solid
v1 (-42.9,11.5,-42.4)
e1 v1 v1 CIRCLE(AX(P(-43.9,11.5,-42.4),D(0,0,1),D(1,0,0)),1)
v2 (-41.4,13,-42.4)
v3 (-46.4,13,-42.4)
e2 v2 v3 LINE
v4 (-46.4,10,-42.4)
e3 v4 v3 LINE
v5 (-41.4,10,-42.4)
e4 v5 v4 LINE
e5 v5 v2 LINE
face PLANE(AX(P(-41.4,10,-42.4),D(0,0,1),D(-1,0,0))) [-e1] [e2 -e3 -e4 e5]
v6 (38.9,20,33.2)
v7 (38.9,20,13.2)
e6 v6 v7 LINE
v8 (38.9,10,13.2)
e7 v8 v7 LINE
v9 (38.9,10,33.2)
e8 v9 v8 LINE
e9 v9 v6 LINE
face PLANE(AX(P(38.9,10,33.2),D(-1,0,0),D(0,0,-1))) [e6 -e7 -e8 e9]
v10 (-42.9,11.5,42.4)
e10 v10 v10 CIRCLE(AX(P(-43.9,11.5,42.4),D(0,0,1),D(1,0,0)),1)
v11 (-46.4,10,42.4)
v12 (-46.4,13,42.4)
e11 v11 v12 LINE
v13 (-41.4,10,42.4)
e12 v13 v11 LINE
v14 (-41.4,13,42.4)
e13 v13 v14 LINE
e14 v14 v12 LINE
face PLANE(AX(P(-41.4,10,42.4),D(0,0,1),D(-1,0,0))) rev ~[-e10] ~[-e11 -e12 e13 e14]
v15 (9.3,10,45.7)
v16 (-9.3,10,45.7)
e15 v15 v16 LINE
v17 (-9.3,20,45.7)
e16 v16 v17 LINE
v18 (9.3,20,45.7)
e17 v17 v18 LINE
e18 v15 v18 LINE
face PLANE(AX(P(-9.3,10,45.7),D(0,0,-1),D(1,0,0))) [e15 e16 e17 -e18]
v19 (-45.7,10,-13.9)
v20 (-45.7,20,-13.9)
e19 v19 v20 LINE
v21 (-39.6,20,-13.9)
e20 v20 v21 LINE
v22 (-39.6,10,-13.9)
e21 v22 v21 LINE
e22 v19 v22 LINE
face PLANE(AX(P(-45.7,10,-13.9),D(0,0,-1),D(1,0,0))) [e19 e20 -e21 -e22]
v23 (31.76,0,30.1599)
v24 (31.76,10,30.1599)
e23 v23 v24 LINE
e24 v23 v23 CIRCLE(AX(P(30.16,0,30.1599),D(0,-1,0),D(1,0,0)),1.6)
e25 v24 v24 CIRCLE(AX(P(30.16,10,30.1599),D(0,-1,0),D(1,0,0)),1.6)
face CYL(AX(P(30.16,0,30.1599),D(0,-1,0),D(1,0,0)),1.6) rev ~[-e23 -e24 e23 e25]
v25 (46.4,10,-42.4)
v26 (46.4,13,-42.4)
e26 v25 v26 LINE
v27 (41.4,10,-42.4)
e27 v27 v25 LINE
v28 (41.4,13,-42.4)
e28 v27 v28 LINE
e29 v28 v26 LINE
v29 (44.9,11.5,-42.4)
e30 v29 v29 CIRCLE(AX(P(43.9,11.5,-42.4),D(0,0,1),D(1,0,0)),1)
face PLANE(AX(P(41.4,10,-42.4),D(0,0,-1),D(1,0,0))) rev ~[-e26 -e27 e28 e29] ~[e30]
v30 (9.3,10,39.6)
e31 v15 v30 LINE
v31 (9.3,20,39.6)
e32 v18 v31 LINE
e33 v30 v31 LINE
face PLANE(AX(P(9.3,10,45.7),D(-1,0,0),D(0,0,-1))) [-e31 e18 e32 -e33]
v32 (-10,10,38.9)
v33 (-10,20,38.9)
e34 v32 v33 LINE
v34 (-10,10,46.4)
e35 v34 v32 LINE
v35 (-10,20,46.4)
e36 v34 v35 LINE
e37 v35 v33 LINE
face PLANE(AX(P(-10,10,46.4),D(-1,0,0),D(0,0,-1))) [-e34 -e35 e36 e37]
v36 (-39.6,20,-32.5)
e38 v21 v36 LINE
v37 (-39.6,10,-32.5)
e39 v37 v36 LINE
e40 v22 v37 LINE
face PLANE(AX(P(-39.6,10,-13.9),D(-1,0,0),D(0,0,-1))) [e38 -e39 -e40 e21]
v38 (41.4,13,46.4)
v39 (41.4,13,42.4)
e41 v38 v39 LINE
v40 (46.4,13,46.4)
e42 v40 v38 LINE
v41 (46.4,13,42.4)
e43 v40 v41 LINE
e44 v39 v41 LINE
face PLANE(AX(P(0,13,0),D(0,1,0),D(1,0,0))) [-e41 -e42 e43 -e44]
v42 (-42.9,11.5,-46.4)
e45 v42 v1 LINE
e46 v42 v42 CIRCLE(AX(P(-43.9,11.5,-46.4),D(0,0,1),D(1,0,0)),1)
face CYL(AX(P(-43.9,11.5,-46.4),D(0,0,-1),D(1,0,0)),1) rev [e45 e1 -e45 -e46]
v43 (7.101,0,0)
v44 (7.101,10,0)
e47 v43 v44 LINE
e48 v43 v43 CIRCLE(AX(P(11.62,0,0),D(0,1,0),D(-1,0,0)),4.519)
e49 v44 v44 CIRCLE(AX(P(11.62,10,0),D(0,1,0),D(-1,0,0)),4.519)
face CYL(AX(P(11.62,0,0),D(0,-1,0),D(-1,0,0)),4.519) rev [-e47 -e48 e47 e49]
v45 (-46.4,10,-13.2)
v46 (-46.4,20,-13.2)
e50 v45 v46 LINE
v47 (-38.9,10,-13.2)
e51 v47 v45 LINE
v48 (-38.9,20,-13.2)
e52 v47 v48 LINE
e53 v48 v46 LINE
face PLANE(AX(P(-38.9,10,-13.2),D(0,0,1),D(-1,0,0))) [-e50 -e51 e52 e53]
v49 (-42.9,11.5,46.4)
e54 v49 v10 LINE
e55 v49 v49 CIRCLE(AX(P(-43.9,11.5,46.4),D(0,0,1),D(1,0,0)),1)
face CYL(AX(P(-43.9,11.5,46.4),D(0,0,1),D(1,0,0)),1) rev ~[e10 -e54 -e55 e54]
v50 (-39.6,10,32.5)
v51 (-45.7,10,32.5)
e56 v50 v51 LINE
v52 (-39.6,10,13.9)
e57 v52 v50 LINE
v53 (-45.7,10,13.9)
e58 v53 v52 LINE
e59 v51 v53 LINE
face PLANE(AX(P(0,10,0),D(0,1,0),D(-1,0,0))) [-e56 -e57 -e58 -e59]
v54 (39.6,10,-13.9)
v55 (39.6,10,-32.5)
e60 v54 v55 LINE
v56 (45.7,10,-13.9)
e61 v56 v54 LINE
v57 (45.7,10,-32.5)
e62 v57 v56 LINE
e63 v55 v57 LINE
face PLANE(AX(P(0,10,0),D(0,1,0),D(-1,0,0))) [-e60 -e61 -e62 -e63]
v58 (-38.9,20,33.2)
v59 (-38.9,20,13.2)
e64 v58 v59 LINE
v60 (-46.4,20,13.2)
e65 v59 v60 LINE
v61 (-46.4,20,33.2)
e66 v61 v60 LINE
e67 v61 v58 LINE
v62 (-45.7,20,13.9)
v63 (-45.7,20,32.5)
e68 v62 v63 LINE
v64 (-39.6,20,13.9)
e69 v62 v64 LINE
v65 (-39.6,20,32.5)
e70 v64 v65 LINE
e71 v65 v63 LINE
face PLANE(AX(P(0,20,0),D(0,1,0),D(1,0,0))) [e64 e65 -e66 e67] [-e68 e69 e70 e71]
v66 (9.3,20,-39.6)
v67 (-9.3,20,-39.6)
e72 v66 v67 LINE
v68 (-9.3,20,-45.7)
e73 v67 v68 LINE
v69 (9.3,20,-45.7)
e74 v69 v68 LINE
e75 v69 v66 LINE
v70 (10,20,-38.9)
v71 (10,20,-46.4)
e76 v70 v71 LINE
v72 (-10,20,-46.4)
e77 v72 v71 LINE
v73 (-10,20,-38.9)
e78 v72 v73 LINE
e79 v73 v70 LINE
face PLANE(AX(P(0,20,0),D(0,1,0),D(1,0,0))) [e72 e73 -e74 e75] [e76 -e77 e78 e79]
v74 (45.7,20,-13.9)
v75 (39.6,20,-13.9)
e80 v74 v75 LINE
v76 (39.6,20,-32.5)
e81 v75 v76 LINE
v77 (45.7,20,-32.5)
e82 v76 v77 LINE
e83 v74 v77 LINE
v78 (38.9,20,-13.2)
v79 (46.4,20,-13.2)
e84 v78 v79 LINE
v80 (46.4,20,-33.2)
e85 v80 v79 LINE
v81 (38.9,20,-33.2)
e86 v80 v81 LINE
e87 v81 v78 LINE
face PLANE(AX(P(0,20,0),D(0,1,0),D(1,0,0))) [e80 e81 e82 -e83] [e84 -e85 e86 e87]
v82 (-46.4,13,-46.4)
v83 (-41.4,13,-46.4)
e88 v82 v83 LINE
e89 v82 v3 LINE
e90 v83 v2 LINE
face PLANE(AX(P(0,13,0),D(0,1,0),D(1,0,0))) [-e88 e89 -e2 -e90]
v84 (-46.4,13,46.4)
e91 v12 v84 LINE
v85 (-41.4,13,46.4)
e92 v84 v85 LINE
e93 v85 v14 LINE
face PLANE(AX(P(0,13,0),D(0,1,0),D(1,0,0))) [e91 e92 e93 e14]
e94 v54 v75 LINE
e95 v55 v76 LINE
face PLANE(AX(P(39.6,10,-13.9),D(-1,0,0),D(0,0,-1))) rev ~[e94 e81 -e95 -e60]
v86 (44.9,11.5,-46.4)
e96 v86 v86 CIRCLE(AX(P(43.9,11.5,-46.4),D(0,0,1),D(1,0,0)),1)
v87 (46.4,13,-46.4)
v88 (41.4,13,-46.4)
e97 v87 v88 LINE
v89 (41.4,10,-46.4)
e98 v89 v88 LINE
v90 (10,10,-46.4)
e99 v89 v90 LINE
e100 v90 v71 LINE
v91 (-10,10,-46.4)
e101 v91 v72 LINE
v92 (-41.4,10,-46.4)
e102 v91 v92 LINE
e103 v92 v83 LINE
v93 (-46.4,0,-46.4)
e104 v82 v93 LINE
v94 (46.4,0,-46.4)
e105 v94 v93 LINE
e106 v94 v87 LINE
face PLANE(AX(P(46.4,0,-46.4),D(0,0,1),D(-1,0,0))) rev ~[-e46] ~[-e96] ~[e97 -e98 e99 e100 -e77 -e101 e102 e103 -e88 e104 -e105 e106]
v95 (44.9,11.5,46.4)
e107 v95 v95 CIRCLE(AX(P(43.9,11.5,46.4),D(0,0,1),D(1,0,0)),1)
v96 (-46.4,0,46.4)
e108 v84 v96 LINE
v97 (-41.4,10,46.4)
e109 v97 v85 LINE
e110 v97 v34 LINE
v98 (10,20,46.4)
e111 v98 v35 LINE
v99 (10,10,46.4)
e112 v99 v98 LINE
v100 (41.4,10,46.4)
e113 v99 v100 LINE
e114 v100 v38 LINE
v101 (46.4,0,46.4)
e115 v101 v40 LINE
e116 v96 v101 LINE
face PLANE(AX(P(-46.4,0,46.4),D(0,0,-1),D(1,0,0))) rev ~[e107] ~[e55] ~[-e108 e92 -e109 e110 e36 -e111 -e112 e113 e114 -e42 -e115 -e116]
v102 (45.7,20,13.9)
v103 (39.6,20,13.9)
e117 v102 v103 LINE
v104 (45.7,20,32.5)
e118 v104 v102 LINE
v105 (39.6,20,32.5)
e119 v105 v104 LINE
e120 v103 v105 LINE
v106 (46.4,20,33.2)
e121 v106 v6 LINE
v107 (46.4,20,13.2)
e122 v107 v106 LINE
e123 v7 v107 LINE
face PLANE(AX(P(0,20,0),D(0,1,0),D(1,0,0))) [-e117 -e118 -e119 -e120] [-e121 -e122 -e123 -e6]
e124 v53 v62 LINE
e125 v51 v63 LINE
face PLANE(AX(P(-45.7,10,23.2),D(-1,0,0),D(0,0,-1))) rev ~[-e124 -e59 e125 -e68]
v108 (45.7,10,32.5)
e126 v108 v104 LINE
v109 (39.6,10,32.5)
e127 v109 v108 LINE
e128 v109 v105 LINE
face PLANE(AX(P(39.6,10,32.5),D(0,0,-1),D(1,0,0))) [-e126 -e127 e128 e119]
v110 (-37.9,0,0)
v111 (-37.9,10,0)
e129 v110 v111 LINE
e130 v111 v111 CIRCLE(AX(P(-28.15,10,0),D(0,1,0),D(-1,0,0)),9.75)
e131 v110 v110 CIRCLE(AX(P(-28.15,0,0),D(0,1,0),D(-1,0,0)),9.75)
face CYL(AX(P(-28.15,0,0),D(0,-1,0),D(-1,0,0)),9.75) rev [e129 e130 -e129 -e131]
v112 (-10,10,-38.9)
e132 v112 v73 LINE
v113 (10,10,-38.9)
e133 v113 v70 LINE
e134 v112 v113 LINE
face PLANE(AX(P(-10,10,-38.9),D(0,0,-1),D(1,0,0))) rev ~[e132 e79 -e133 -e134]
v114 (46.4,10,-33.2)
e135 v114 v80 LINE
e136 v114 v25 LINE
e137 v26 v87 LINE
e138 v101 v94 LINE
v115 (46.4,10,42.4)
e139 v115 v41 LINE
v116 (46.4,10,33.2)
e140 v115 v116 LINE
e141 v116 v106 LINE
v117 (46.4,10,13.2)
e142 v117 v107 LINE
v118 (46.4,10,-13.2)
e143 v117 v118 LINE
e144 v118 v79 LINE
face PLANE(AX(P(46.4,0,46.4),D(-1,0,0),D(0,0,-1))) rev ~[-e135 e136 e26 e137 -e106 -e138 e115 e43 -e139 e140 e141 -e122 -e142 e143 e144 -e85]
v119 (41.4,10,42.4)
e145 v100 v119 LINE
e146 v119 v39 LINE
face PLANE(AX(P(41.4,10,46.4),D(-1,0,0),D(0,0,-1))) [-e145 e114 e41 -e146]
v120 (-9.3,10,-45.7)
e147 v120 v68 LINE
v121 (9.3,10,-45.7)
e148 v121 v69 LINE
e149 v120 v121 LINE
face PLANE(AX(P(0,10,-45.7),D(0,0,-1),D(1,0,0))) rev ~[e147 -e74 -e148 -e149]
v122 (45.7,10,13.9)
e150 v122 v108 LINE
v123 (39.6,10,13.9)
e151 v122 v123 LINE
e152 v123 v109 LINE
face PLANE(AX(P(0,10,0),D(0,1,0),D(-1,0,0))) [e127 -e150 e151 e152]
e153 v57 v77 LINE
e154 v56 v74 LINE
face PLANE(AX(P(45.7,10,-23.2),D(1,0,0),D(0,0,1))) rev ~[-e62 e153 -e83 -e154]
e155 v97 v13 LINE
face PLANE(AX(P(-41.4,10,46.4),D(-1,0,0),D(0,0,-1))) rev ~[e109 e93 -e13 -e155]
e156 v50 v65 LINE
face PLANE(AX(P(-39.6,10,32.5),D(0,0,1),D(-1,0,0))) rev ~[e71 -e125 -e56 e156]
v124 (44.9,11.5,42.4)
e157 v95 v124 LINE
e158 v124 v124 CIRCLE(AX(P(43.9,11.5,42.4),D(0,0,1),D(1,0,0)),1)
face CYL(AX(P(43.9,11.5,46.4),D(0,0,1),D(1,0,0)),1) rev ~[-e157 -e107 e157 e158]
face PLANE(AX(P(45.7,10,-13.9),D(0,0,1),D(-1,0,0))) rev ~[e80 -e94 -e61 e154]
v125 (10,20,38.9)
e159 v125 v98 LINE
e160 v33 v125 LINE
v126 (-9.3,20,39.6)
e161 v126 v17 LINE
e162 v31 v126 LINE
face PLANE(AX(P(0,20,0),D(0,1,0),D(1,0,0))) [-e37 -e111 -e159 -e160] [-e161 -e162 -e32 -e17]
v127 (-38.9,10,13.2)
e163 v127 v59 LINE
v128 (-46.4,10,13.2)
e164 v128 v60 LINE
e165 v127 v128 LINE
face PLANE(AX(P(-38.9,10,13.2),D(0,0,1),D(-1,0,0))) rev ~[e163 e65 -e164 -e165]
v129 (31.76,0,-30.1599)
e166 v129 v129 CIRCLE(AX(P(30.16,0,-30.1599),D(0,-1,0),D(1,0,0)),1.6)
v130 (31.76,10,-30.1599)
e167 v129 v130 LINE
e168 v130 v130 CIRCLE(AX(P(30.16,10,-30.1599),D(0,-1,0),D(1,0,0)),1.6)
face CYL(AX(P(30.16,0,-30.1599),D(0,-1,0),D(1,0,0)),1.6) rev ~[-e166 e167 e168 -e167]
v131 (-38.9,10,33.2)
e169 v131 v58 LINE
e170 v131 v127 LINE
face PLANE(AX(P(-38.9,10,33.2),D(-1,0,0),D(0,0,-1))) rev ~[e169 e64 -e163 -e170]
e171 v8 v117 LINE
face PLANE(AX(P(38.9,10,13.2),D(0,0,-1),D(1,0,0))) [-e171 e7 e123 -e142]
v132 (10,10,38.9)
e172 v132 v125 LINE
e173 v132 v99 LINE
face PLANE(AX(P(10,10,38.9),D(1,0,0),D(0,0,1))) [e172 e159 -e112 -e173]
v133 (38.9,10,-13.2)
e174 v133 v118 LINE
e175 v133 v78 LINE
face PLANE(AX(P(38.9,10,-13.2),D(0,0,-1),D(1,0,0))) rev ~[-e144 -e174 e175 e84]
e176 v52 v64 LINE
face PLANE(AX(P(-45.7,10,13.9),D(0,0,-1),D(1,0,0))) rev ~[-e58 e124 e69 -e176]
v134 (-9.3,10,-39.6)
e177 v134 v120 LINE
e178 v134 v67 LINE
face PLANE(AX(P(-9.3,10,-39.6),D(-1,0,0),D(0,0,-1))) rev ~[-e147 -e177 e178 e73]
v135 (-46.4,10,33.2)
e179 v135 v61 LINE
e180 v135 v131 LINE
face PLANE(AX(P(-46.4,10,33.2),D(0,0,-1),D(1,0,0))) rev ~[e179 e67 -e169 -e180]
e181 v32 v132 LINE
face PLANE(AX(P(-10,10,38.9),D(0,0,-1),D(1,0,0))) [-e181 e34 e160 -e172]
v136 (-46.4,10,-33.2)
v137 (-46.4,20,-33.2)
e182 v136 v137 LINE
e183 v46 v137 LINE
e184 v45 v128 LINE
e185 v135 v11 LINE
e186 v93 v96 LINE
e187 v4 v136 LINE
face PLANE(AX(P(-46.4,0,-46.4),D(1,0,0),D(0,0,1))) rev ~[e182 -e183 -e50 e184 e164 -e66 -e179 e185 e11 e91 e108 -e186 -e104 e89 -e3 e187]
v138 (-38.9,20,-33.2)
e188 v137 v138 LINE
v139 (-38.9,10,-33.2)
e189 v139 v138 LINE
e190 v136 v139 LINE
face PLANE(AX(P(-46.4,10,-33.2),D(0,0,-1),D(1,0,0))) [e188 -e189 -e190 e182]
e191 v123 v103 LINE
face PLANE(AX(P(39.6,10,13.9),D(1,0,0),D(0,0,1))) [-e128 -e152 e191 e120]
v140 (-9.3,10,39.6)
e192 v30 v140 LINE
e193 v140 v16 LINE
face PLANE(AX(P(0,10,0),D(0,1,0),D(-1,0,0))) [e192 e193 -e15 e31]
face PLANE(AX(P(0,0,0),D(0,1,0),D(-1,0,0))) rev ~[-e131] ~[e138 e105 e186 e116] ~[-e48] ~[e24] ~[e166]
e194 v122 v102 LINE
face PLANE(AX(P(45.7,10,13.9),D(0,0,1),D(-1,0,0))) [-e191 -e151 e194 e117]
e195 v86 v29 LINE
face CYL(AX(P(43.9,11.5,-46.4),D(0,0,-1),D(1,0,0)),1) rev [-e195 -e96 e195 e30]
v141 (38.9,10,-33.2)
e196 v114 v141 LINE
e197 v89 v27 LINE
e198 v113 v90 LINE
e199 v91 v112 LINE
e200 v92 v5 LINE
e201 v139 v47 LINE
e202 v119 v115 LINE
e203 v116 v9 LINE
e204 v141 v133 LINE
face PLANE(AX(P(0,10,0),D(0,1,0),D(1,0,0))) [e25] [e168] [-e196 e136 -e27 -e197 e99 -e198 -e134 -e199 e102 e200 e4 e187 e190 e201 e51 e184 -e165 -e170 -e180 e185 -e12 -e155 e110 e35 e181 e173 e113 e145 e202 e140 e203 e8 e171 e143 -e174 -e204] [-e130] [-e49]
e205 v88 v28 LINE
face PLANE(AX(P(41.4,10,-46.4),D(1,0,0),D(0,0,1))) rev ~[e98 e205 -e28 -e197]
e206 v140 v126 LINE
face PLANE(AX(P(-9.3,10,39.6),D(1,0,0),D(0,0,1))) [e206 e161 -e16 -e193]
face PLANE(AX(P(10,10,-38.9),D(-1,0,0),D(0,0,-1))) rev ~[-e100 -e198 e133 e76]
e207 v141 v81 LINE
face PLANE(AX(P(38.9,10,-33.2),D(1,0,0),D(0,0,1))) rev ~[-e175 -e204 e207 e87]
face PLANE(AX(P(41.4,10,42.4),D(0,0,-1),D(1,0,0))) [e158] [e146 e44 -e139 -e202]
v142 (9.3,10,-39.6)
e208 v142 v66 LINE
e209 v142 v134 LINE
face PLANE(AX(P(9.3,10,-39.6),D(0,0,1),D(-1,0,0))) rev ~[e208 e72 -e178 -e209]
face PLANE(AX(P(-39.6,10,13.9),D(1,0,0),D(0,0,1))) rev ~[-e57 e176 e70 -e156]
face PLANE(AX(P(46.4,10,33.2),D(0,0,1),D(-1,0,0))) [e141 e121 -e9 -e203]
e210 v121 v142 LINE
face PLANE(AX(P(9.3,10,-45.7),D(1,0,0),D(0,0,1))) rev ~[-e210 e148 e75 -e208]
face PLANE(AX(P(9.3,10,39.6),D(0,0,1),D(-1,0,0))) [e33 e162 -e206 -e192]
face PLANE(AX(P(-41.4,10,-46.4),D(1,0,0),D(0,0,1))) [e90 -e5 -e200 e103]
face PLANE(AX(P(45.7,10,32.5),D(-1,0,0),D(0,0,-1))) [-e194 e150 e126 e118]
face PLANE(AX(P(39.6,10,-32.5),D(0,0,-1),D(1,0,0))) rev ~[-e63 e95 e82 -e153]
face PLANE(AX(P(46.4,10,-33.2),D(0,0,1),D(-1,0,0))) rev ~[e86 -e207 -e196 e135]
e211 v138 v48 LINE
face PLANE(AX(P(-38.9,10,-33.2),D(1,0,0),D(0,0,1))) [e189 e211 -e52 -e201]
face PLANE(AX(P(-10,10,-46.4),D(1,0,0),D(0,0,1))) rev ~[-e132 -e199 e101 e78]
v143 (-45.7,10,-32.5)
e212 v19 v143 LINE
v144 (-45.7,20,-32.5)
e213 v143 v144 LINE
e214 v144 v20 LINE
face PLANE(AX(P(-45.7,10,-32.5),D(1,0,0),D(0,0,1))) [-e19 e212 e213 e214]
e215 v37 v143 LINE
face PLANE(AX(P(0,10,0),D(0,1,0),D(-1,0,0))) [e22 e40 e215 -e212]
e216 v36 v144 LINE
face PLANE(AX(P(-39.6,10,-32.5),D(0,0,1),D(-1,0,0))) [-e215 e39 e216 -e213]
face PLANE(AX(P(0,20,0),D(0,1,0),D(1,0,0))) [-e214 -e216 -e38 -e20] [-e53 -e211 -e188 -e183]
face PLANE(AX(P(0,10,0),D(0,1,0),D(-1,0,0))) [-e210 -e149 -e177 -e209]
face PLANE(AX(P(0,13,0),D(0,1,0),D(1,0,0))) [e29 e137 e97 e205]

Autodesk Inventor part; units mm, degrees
ref_plane "YZ Plane" through (0, 0, 0) normal (1, 0, 0) x (0, 1, 0)
ref_plane "XZ Plane" through (0, 0, 0) normal (0, 1, 0) x (-1, 0, 0)
ref_plane "XY Plane" through (0, 0, 0) normal (0, 0, 1) x (1, 0, 0)
sketch "Sketch1" plane through (0, 0, 0) normal (0, 1, 0) x (-1, 0, 0)
  line L0 (-46.4, 46.4) -> (-46.4, -46.4)
  line L1 (-46.4, -46.4) -> (46.4, -46.4)
  line L2 (46.4, -46.4) -> (46.4, 46.4)
  line L3 (46.4, 46.4) -> (-46.4, 46.4)
  line L4 (-46.4, 46.4) -> (46.4, -46.4) construction
  line L5 (-46.4, -46.4) -> (46.4, 46.4) construction
  circle A0 centre (28.15, 0) radius 9.75
  line L6 (-11.62, 56.3044) -> (-11.62, -68.4085) construction
  line L7 (13.88, 18.1678) -> (13.88, -16.702) construction
  line L8 (16.845, 0) -> (-37.12, 0) construction
  line L9 (-37.12, 0) -> (-37.12, -16.702) construction
  line L10 (-37.12, -16.702) -> (-37.12, 16.702) construction
  line L11 (-37.12, 16.702) -> (13.88, 16.702) construction
  line L12 (-37.12, -16.702) -> (13.88, -16.702) construction
  line L13 (13.88, 0) -> (6.92, 0) construction
  circle A1 centre (6.92, 0) radius 4.519 construction
  circle A2 centre (6.92, 0) radius 4.519
  circle A3 centre (-30.16, 0) radius 4.519
  circle A4 centre (-11.62, 0) radius 4.519
  point P0 (0, 0)
  dimension "d0" = 92.8
  dimension "d1" = 92.8
  dimension "d2" = 19.5
  dimension "d3" = 28.15
  dimension "d4" = 11.62
  dimension "d8" = 16.702
  dimension "d9" = 33.404
  dimension "d10" = 6.96
  dimension "d11" = 9.038
  dimension "d46" = 9.038
  dimension "d47" = 6.96
  dimension "d50" = 9.038
extrude "Extrusion1" add sketch "Sketch1" along normal blind 10 contours L3 L2 L1 L0 | A3 | A4
sketch "Sketch2" plane through (0, 10, 0) normal (0, 1, 0) x (1, 0, 0)
  line L0 (-46.4, 46.4) -> (-46.4, -46.4) projected
  line L1 (46.4, -46.4) -> (46.4, 46.4) projected
  line L2 (-46.4, -46.4) -> (46.4, 46.4) construction
  line L3 (-46.4, 46.4) -> (46.4, -46.4) construction
  line L4 (-46.4, -44.4) -> (46.4, -44.4) construction
  line L5 (-46.4, 44.4) -> (46.4, 44.4) construction
  line L6 (46.4, 46.4) -> (-46.4, 46.4) construction
  line L7 (-43.9, 46.4) -> (-43.9, -46.4) construction
  line L8 (-46.4, -46.4) -> (46.4, -46.4) construction
  line L9 (43.9, -46.4) -> (43.9, 46.4) construction
  line L10 (-41.4, -42.4) -> (-46.4, -42.4)
  line L11 (-46.4, -42.4) -> (-46.4, -46.4)
  line L12 (-46.4, -46.4) -> (-41.4, -46.4)
  line L13 (-41.4, -46.4) -> (-41.4, -42.4)
  line L14 (-41.4, -42.4) -> (-46.4, -46.4) construction
  line L15 (-46.4, -42.4) -> (-41.4, -46.4) construction
  line L16 (-41.4, 42.4) -> (-46.4, 42.4)
  line L17 (-46.4, 42.4) -> (-46.4, 46.4)
  line L18 (-46.4, 46.4) -> (-41.4, 46.4)
  line L19 (-41.4, 46.4) -> (-41.4, 42.4)
  line L20 (-41.4, 42.4) -> (-46.4, 46.4) construction
  line L21 (-46.4, 42.4) -> (-41.4, 46.4) construction
  line L22 (41.4, 42.4) -> (46.4, 42.4)
  line L23 (46.4, 42.4) -> (46.4, 46.4)
  line L24 (46.4, 46.4) -> (41.4, 46.4)
  line L25 (41.4, 46.4) -> (41.4, 42.4)
  line L26 (41.4, 42.4) -> (46.4, 46.4) construction
  line L27 (46.4, 42.4) -> (41.4, 46.4) construction
  line L28 (41.4, -42.4) -> (46.4, -42.4)
  line L29 (46.4, -42.4) -> (46.4, -46.4)
  line L30 (46.4, -46.4) -> (41.4, -46.4)
  line L31 (41.4, -46.4) -> (41.4, -42.4)
  line L32 (41.4, -42.4) -> (46.4, -46.4) construction
  line L33 (46.4, -42.4) -> (41.4, -46.4) construction
  point P0 (0, 0)
  point P1 (-43.9, -44.4)
  point P2 (-43.9, 44.4)
  point P3 (43.9, 44.4)
  point P4 (43.9, -44.4)
  dimension "d14" = 2.5
  dimension "d15" = 2.5
  dimension "d16" = 2
  dimension "d17" = 2
extrude "Extrusion2" add sketch "Sketch2" along normal blind 3
sketch "Sketch3" plane through (-46.4, 0, 46.4) normal (0, 0, 1) x (1, 0, 0)
  line L0 (0, 10) -> (5, 10) construction
  line L1 (0, 10) -> (92.9772, 10) construction
  line L2 (0, 10) -> (0, 13) construction
  line L3 (5, 10) -> (0, 13) construction
  line L4 (0, 13) -> (5, 13) construction
  line L5 (5, 13) -> (0, 10) construction
  line L6 (92.8, 0) -> (92.8, 13) construction
  line L7 (87.8, 13) -> (92.8, 13) construction
  line L8 (92.8, 10) -> (87.8, 13) construction
  line L9 (87.8, 13) -> (87.8, 10) construction
  line L10 (87.8, 10) -> (92.8, 13) construction
  circle A0 centre (90.3, 11.5) radius 1 construction
  circle A1 centre (90.3, 11.5) radius 1
  circle A2 centre (2.5, 11.5) radius 1
  point P0 (46.4, 0)
  dimension "d20" = 2
  dimension "d21" = 2
sketch "Sketch4" plane through (0, 10, 0) normal (0, 1, 0) x (1, 0, 0)
  line L0 (0, -35.0564) -> (0, -55.3914) construction
  line L1 (-41.4, -46.4) -> (41.4, -46.4) projected
  line L2 (0, -46.4) -> (-10, -46.4)
  line L3 (-10, -46.4) -> (-10, -38.9)
  line L4 (-10, -38.9) -> (10, -38.9)
  line L5 (10, -38.9) -> (10, -46.4)
  line L6 (0, -46.4) -> (10, -46.4)
  line L7 (-23.157, 0) -> (-56.7416, 0) construction
  line L8 (-56.7416, 0) -> (-56.7416, -46.4) construction
  line L9 (-56.7416, -46.4) -> (-46.4, -46.4) construction
  line L10 (-46.4, -46.4) -> (-56.7416, -23.2) construction
  line L11 (-31.4038, -23.2) -> (-56.7416, -23.2) construction
  line L12 (-46.4, 42.4) -> (-46.4, -42.4) projected
  line L13 (-46.4, -23.2) -> (-46.4, -33.2)
  line L14 (-46.4, -33.2) -> (-38.9, -33.2)
  line L15 (-38.9, -33.2) -> (-38.9, -13.2)
  line L16 (-38.9, -13.2) -> (-46.4, -13.2)
  line L17 (-46.4, -13.2) -> (-46.4, -23.2)
  line L18 (-50.628, 0) -> (47.2568, 0) construction
  line L19 (0, -71.9527) -> (0, 59.9713) construction
  line L20 (46.4, -23.2) -> (46.4, -33.2)
  line L21 (46.4, -33.2) -> (38.9, -33.2)
  line L22 (38.9, -33.2) -> (38.9, -13.2)
  line L23 (38.9, -13.2) -> (46.4, -13.2)
  line L24 (46.4, -13.2) -> (46.4, -23.2)
  line L25 (0, 46.4) -> (-10, 46.4)
  line L26 (-10, 46.4) -> (-10, 38.9)
  line L27 (-10, 38.9) -> (10, 38.9)
  line L28 (10, 38.9) -> (10, 46.4)
  line L29 (0, 46.4) -> (10, 46.4)
  line L30 (-46.4, 23.2) -> (-46.4, 33.2)
  line L31 (-46.4, 33.2) -> (-38.9, 33.2)
  line L32 (-38.9, 33.2) -> (-38.9, 13.2)
  line L33 (-38.9, 13.2) -> (-46.4, 13.2)
  line L34 (-46.4, 13.2) -> (-46.4, 23.2)
  line L35 (46.4, 33.2) -> (38.9, 33.2)
  line L36 (38.9, 33.2) -> (38.9, 13.2)
  line L37 (38.9, 13.2) -> (46.4, 13.2)
  line L38 (46.4, 13.2) -> (46.4, 23.2)
  line L39 (46.4, 23.2) -> (46.4, 33.2)
  line L40 (9.3, -39.6) -> (-9.3, -39.6) construction
  line L41 (-9.3, -39.6) -> (-9.3, -45.7) construction
  line L42 (-9.3, -45.7) -> (0, -45.7) construction
  line L43 (0, -45.7) -> (9.3, -45.7) construction
  line L44 (9.3, -45.7) -> (9.3, -39.6) construction
  line L45 (-9.3, -39.6) -> (-9.3, -45.7)
  line L46 (-9.3, -45.7) -> (0, -45.7)
  line L47 (0, -45.7) -> (9.3, -45.7)
  line L48 (9.3, -45.7) -> (9.3, -39.6)
  line L49 (9.3, -39.6) -> (-9.3, -39.6)
  line L50 (-39.6, -13.9) -> (-39.6, -32.5)
  line L51 (-39.6, -32.5) -> (-45.7, -32.5)
  line L52 (-45.7, -32.5) -> (-45.7, -23.2)
  line L53 (-45.7, -23.2) -> (-45.7, -13.9)
  line L54 (-45.7, -13.9) -> (-39.6, -13.9)
  line L55 (-45.7, 13.9) -> (-39.6, 13.9)
  line L56 (-39.6, 13.9) -> (-39.6, 32.5)
  line L57 (-39.6, 32.5) -> (-45.7, 32.5)
  line L58 (-45.7, 32.5) -> (-45.7, 23.2)
  line L59 (-45.7, 23.2) -> (-45.7, 13.9)
  line L60 (9.3, 39.6) -> (-9.3, 39.6)
  line L61 (-9.3, 39.6) -> (-9.3, 45.7)
  line L62 (-9.3, 45.7) -> (0, 45.7)
  line L63 (0, 45.7) -> (9.3, 45.7)
  line L64 (9.3, 45.7) -> (9.3, 39.6)
  line L65 (39.6, 13.9) -> (39.6, 32.5)
  line L66 (39.6, 32.5) -> (45.7, 32.5)
  line L67 (45.7, 32.5) -> (45.7, 23.2)
  line L68 (45.7, 23.2) -> (45.7, 13.9)
  line L69 (45.7, 13.9) -> (39.6, 13.9)
  line L70 (39.6, -13.9) -> (39.6, -32.5)
  line L71 (39.6, -32.5) -> (45.7, -32.5)
  line L72 (45.7, -32.5) -> (45.7, -23.2)
  line L73 (45.7, -23.2) -> (45.7, -13.9)
  line L74 (45.7, -13.9) -> (39.6, -13.9)
  point P0 (0, 0)
  dimension "d22" = 10
  dimension "d23" = 7.5
  dimension "d24" = 20
  dimension "d25" = 10
  dimension "d26" = 7.5
  dimension "d27" = 20
  dimension "d28" = 0.7
  dimension "d29" = 0.7
  dimension "d30" = 0.7
  dimension "d31" = 0.7
  dimension "d32" = 0.7
  dimension "d33" = 0.7
  dimension "d34" = 0.7
extrude "Extrusion3" add sketch "Sketch4" along normal blind 10
extrude "Extrusion5" cut sketch "Sketch3" against normal blind 4
ref_plane "Work Plane1" through (46.4, 0, 0) normal (0, 0, -1) x (-1, 0, 0)
mirror "Mirror1" about plane through (46.4, 0, 0) normal (0, 0, -1) of "Extrusion5"
sketch "Sketch6" plane through (0, 10, 0) normal (0, 1, 0) x (1, 0, 0)
  circle A0 centre (-28.15, 0) radius 9.75 projected
  circle A1 centre (-6.92, 0) radius 4.519 projected
  line L0 (10, 46.4) -> (10, 38.9) projected
  line L1 (10, 38.9) -> (-10, 38.9) projected
  line L2 (-10, 38.9) -> (-10, 46.4) projected
  line L3 (-10, 46.4) -> (-41.4, 46.4) projected
  line L4 (-41.4, 46.4) -> (-41.4, 42.4) projected
  line L5 (-41.4, 42.4) -> (-46.4, 42.4) projected
  line L6 (-46.4, 42.4) -> (-46.4, 33.2) projected
  line L7 (-46.4, 33.2) -> (-38.9, 33.2) projected
  line L8 (-38.9, 33.2) -> (-38.9, 13.2) projected
  line L9 (-38.9, 13.2) -> (-46.4, 13.2) projected
  line L10 (-46.4, 13.2) -> (-46.4, -13.2) projected
  line L11 (-46.4, -13.2) -> (-38.9, -13.2) projected
  line L12 (-38.9, -13.2) -> (-38.9, -33.2) projected
  line L13 (-38.9, -33.2) -> (-46.4, -33.2) projected
  line L14 (-46.4, -33.2) -> (-46.4, -42.4) projected
  line L15 (-46.4, -42.4) -> (-41.4, -42.4) projected
  line L16 (-41.4, -42.4) -> (-41.4, -46.4) projected
  line L17 (-41.4, -46.4) -> (-10, -46.4) projected
  line L18 (-10, -46.4) -> (-10, -38.9) projected
  line L19 (-10, -38.9) -> (10, -38.9) projected
  line L20 (10, -38.9) -> (10, -46.4) projected
  line L21 (10, -46.4) -> (41.4, -46.4) projected
  line L22 (41.4, -46.4) -> (41.4, -42.4) projected
  line L23 (41.4, -42.4) -> (46.4, -42.4) projected
  line L24 (46.4, -42.4) -> (46.4, -33.2) projected
  line L25 (46.4, -33.2) -> (38.9, -33.2) projected
  line L26 (38.9, -33.2) -> (38.9, -13.2) projected
  line L27 (38.9, -13.2) -> (46.4, -13.2) projected
  line L28 (46.4, -13.2) -> (46.4, 13.2) projected
  line L29 (46.4, 13.2) -> (38.9, 13.2) projected
  line L30 (38.9, 13.2) -> (38.9, 33.2) projected
  line L31 (38.9, 33.2) -> (46.4, 33.2) projected
  line L32 (46.4, 33.2) -> (46.4, 42.4) projected
  line L33 (46.4, 42.4) -> (41.4, 42.4) projected
  line L34 (41.4, 42.4) -> (41.4, 46.4) projected
  line L35 (41.4, 46.4) -> (10, 46.4) projected
  point P0 (0, 0)
extrude "Extrusion7" add sketch "Sketch6" against normal blind 10 contours A1
extrude "Extrusion9" cut sketch "Sketch1" along normal blind 10 contours A4
sketch "Sketch7" plane through (0, 0, 0) normal (0, -1, 0) x (1, 0, 0)
  line L0 (30.16, 0) -> (30.16, -46.4) construction
  line L1 (41.4, -46.4) -> (10, -46.4) projected
sketch "Sketch8" plane through (0, 0, 0) normal (0, -1, 0) x (1, 0, 0)
  circle A0 centre (11.62, 0) radius 4.519 projected
  circle A1 centre (-28.15, 0) radius 9.75 projected
  line L0 (46.4, 46.4) -> (46.4, -46.4) projected
  line L1 (-46.4, 46.4) -> (46.4, 46.4) projected
  line L2 (-46.4, -46.4) -> (-46.4, 46.4) projected
  line L3 (46.4, -46.4) -> (-46.4, -46.4) projected
  circle A2 centre (30.16, 0) radius 4.519 projected
  circle A3 centre (11.62, 0) radius 4.519 projected
  circle A4 centre (-28.15, 0) radius 9.75 projected
  line L4 (46.4, 46.4) -> (46.4, -46.4) projected
  line L5 (-46.4, 46.4) -> (46.4, 46.4) projected
  line L6 (-46.4, -46.4) -> (-46.4, 46.4) projected
  line L7 (46.4, -46.4) -> (-46.4, -46.4) projected
  line L8 (30.16, 0) -> (30.16, 46.8649) construction
  circle A5 centre (30.16, 30.1599) radius 1.6
  line L9 (55.9453, 0) -> (-55.3311, 0) construction
  line L10 (30.16, 0) -> (30.16, -46.8649) construction
  circle A6 centre (30.16, -30.1599) radius 1.6
  point P0 (0, 0)
  dimension "d53" = 3.2
  dimension "d54" = 30.1599
  dimension "d55" = 30.1599
extrude "Extrusion10" cut sketch "Sketch8" against normal up to surface (10 mm away) contours A5 | A6
properties part number "Lifting Platform With Balance"
